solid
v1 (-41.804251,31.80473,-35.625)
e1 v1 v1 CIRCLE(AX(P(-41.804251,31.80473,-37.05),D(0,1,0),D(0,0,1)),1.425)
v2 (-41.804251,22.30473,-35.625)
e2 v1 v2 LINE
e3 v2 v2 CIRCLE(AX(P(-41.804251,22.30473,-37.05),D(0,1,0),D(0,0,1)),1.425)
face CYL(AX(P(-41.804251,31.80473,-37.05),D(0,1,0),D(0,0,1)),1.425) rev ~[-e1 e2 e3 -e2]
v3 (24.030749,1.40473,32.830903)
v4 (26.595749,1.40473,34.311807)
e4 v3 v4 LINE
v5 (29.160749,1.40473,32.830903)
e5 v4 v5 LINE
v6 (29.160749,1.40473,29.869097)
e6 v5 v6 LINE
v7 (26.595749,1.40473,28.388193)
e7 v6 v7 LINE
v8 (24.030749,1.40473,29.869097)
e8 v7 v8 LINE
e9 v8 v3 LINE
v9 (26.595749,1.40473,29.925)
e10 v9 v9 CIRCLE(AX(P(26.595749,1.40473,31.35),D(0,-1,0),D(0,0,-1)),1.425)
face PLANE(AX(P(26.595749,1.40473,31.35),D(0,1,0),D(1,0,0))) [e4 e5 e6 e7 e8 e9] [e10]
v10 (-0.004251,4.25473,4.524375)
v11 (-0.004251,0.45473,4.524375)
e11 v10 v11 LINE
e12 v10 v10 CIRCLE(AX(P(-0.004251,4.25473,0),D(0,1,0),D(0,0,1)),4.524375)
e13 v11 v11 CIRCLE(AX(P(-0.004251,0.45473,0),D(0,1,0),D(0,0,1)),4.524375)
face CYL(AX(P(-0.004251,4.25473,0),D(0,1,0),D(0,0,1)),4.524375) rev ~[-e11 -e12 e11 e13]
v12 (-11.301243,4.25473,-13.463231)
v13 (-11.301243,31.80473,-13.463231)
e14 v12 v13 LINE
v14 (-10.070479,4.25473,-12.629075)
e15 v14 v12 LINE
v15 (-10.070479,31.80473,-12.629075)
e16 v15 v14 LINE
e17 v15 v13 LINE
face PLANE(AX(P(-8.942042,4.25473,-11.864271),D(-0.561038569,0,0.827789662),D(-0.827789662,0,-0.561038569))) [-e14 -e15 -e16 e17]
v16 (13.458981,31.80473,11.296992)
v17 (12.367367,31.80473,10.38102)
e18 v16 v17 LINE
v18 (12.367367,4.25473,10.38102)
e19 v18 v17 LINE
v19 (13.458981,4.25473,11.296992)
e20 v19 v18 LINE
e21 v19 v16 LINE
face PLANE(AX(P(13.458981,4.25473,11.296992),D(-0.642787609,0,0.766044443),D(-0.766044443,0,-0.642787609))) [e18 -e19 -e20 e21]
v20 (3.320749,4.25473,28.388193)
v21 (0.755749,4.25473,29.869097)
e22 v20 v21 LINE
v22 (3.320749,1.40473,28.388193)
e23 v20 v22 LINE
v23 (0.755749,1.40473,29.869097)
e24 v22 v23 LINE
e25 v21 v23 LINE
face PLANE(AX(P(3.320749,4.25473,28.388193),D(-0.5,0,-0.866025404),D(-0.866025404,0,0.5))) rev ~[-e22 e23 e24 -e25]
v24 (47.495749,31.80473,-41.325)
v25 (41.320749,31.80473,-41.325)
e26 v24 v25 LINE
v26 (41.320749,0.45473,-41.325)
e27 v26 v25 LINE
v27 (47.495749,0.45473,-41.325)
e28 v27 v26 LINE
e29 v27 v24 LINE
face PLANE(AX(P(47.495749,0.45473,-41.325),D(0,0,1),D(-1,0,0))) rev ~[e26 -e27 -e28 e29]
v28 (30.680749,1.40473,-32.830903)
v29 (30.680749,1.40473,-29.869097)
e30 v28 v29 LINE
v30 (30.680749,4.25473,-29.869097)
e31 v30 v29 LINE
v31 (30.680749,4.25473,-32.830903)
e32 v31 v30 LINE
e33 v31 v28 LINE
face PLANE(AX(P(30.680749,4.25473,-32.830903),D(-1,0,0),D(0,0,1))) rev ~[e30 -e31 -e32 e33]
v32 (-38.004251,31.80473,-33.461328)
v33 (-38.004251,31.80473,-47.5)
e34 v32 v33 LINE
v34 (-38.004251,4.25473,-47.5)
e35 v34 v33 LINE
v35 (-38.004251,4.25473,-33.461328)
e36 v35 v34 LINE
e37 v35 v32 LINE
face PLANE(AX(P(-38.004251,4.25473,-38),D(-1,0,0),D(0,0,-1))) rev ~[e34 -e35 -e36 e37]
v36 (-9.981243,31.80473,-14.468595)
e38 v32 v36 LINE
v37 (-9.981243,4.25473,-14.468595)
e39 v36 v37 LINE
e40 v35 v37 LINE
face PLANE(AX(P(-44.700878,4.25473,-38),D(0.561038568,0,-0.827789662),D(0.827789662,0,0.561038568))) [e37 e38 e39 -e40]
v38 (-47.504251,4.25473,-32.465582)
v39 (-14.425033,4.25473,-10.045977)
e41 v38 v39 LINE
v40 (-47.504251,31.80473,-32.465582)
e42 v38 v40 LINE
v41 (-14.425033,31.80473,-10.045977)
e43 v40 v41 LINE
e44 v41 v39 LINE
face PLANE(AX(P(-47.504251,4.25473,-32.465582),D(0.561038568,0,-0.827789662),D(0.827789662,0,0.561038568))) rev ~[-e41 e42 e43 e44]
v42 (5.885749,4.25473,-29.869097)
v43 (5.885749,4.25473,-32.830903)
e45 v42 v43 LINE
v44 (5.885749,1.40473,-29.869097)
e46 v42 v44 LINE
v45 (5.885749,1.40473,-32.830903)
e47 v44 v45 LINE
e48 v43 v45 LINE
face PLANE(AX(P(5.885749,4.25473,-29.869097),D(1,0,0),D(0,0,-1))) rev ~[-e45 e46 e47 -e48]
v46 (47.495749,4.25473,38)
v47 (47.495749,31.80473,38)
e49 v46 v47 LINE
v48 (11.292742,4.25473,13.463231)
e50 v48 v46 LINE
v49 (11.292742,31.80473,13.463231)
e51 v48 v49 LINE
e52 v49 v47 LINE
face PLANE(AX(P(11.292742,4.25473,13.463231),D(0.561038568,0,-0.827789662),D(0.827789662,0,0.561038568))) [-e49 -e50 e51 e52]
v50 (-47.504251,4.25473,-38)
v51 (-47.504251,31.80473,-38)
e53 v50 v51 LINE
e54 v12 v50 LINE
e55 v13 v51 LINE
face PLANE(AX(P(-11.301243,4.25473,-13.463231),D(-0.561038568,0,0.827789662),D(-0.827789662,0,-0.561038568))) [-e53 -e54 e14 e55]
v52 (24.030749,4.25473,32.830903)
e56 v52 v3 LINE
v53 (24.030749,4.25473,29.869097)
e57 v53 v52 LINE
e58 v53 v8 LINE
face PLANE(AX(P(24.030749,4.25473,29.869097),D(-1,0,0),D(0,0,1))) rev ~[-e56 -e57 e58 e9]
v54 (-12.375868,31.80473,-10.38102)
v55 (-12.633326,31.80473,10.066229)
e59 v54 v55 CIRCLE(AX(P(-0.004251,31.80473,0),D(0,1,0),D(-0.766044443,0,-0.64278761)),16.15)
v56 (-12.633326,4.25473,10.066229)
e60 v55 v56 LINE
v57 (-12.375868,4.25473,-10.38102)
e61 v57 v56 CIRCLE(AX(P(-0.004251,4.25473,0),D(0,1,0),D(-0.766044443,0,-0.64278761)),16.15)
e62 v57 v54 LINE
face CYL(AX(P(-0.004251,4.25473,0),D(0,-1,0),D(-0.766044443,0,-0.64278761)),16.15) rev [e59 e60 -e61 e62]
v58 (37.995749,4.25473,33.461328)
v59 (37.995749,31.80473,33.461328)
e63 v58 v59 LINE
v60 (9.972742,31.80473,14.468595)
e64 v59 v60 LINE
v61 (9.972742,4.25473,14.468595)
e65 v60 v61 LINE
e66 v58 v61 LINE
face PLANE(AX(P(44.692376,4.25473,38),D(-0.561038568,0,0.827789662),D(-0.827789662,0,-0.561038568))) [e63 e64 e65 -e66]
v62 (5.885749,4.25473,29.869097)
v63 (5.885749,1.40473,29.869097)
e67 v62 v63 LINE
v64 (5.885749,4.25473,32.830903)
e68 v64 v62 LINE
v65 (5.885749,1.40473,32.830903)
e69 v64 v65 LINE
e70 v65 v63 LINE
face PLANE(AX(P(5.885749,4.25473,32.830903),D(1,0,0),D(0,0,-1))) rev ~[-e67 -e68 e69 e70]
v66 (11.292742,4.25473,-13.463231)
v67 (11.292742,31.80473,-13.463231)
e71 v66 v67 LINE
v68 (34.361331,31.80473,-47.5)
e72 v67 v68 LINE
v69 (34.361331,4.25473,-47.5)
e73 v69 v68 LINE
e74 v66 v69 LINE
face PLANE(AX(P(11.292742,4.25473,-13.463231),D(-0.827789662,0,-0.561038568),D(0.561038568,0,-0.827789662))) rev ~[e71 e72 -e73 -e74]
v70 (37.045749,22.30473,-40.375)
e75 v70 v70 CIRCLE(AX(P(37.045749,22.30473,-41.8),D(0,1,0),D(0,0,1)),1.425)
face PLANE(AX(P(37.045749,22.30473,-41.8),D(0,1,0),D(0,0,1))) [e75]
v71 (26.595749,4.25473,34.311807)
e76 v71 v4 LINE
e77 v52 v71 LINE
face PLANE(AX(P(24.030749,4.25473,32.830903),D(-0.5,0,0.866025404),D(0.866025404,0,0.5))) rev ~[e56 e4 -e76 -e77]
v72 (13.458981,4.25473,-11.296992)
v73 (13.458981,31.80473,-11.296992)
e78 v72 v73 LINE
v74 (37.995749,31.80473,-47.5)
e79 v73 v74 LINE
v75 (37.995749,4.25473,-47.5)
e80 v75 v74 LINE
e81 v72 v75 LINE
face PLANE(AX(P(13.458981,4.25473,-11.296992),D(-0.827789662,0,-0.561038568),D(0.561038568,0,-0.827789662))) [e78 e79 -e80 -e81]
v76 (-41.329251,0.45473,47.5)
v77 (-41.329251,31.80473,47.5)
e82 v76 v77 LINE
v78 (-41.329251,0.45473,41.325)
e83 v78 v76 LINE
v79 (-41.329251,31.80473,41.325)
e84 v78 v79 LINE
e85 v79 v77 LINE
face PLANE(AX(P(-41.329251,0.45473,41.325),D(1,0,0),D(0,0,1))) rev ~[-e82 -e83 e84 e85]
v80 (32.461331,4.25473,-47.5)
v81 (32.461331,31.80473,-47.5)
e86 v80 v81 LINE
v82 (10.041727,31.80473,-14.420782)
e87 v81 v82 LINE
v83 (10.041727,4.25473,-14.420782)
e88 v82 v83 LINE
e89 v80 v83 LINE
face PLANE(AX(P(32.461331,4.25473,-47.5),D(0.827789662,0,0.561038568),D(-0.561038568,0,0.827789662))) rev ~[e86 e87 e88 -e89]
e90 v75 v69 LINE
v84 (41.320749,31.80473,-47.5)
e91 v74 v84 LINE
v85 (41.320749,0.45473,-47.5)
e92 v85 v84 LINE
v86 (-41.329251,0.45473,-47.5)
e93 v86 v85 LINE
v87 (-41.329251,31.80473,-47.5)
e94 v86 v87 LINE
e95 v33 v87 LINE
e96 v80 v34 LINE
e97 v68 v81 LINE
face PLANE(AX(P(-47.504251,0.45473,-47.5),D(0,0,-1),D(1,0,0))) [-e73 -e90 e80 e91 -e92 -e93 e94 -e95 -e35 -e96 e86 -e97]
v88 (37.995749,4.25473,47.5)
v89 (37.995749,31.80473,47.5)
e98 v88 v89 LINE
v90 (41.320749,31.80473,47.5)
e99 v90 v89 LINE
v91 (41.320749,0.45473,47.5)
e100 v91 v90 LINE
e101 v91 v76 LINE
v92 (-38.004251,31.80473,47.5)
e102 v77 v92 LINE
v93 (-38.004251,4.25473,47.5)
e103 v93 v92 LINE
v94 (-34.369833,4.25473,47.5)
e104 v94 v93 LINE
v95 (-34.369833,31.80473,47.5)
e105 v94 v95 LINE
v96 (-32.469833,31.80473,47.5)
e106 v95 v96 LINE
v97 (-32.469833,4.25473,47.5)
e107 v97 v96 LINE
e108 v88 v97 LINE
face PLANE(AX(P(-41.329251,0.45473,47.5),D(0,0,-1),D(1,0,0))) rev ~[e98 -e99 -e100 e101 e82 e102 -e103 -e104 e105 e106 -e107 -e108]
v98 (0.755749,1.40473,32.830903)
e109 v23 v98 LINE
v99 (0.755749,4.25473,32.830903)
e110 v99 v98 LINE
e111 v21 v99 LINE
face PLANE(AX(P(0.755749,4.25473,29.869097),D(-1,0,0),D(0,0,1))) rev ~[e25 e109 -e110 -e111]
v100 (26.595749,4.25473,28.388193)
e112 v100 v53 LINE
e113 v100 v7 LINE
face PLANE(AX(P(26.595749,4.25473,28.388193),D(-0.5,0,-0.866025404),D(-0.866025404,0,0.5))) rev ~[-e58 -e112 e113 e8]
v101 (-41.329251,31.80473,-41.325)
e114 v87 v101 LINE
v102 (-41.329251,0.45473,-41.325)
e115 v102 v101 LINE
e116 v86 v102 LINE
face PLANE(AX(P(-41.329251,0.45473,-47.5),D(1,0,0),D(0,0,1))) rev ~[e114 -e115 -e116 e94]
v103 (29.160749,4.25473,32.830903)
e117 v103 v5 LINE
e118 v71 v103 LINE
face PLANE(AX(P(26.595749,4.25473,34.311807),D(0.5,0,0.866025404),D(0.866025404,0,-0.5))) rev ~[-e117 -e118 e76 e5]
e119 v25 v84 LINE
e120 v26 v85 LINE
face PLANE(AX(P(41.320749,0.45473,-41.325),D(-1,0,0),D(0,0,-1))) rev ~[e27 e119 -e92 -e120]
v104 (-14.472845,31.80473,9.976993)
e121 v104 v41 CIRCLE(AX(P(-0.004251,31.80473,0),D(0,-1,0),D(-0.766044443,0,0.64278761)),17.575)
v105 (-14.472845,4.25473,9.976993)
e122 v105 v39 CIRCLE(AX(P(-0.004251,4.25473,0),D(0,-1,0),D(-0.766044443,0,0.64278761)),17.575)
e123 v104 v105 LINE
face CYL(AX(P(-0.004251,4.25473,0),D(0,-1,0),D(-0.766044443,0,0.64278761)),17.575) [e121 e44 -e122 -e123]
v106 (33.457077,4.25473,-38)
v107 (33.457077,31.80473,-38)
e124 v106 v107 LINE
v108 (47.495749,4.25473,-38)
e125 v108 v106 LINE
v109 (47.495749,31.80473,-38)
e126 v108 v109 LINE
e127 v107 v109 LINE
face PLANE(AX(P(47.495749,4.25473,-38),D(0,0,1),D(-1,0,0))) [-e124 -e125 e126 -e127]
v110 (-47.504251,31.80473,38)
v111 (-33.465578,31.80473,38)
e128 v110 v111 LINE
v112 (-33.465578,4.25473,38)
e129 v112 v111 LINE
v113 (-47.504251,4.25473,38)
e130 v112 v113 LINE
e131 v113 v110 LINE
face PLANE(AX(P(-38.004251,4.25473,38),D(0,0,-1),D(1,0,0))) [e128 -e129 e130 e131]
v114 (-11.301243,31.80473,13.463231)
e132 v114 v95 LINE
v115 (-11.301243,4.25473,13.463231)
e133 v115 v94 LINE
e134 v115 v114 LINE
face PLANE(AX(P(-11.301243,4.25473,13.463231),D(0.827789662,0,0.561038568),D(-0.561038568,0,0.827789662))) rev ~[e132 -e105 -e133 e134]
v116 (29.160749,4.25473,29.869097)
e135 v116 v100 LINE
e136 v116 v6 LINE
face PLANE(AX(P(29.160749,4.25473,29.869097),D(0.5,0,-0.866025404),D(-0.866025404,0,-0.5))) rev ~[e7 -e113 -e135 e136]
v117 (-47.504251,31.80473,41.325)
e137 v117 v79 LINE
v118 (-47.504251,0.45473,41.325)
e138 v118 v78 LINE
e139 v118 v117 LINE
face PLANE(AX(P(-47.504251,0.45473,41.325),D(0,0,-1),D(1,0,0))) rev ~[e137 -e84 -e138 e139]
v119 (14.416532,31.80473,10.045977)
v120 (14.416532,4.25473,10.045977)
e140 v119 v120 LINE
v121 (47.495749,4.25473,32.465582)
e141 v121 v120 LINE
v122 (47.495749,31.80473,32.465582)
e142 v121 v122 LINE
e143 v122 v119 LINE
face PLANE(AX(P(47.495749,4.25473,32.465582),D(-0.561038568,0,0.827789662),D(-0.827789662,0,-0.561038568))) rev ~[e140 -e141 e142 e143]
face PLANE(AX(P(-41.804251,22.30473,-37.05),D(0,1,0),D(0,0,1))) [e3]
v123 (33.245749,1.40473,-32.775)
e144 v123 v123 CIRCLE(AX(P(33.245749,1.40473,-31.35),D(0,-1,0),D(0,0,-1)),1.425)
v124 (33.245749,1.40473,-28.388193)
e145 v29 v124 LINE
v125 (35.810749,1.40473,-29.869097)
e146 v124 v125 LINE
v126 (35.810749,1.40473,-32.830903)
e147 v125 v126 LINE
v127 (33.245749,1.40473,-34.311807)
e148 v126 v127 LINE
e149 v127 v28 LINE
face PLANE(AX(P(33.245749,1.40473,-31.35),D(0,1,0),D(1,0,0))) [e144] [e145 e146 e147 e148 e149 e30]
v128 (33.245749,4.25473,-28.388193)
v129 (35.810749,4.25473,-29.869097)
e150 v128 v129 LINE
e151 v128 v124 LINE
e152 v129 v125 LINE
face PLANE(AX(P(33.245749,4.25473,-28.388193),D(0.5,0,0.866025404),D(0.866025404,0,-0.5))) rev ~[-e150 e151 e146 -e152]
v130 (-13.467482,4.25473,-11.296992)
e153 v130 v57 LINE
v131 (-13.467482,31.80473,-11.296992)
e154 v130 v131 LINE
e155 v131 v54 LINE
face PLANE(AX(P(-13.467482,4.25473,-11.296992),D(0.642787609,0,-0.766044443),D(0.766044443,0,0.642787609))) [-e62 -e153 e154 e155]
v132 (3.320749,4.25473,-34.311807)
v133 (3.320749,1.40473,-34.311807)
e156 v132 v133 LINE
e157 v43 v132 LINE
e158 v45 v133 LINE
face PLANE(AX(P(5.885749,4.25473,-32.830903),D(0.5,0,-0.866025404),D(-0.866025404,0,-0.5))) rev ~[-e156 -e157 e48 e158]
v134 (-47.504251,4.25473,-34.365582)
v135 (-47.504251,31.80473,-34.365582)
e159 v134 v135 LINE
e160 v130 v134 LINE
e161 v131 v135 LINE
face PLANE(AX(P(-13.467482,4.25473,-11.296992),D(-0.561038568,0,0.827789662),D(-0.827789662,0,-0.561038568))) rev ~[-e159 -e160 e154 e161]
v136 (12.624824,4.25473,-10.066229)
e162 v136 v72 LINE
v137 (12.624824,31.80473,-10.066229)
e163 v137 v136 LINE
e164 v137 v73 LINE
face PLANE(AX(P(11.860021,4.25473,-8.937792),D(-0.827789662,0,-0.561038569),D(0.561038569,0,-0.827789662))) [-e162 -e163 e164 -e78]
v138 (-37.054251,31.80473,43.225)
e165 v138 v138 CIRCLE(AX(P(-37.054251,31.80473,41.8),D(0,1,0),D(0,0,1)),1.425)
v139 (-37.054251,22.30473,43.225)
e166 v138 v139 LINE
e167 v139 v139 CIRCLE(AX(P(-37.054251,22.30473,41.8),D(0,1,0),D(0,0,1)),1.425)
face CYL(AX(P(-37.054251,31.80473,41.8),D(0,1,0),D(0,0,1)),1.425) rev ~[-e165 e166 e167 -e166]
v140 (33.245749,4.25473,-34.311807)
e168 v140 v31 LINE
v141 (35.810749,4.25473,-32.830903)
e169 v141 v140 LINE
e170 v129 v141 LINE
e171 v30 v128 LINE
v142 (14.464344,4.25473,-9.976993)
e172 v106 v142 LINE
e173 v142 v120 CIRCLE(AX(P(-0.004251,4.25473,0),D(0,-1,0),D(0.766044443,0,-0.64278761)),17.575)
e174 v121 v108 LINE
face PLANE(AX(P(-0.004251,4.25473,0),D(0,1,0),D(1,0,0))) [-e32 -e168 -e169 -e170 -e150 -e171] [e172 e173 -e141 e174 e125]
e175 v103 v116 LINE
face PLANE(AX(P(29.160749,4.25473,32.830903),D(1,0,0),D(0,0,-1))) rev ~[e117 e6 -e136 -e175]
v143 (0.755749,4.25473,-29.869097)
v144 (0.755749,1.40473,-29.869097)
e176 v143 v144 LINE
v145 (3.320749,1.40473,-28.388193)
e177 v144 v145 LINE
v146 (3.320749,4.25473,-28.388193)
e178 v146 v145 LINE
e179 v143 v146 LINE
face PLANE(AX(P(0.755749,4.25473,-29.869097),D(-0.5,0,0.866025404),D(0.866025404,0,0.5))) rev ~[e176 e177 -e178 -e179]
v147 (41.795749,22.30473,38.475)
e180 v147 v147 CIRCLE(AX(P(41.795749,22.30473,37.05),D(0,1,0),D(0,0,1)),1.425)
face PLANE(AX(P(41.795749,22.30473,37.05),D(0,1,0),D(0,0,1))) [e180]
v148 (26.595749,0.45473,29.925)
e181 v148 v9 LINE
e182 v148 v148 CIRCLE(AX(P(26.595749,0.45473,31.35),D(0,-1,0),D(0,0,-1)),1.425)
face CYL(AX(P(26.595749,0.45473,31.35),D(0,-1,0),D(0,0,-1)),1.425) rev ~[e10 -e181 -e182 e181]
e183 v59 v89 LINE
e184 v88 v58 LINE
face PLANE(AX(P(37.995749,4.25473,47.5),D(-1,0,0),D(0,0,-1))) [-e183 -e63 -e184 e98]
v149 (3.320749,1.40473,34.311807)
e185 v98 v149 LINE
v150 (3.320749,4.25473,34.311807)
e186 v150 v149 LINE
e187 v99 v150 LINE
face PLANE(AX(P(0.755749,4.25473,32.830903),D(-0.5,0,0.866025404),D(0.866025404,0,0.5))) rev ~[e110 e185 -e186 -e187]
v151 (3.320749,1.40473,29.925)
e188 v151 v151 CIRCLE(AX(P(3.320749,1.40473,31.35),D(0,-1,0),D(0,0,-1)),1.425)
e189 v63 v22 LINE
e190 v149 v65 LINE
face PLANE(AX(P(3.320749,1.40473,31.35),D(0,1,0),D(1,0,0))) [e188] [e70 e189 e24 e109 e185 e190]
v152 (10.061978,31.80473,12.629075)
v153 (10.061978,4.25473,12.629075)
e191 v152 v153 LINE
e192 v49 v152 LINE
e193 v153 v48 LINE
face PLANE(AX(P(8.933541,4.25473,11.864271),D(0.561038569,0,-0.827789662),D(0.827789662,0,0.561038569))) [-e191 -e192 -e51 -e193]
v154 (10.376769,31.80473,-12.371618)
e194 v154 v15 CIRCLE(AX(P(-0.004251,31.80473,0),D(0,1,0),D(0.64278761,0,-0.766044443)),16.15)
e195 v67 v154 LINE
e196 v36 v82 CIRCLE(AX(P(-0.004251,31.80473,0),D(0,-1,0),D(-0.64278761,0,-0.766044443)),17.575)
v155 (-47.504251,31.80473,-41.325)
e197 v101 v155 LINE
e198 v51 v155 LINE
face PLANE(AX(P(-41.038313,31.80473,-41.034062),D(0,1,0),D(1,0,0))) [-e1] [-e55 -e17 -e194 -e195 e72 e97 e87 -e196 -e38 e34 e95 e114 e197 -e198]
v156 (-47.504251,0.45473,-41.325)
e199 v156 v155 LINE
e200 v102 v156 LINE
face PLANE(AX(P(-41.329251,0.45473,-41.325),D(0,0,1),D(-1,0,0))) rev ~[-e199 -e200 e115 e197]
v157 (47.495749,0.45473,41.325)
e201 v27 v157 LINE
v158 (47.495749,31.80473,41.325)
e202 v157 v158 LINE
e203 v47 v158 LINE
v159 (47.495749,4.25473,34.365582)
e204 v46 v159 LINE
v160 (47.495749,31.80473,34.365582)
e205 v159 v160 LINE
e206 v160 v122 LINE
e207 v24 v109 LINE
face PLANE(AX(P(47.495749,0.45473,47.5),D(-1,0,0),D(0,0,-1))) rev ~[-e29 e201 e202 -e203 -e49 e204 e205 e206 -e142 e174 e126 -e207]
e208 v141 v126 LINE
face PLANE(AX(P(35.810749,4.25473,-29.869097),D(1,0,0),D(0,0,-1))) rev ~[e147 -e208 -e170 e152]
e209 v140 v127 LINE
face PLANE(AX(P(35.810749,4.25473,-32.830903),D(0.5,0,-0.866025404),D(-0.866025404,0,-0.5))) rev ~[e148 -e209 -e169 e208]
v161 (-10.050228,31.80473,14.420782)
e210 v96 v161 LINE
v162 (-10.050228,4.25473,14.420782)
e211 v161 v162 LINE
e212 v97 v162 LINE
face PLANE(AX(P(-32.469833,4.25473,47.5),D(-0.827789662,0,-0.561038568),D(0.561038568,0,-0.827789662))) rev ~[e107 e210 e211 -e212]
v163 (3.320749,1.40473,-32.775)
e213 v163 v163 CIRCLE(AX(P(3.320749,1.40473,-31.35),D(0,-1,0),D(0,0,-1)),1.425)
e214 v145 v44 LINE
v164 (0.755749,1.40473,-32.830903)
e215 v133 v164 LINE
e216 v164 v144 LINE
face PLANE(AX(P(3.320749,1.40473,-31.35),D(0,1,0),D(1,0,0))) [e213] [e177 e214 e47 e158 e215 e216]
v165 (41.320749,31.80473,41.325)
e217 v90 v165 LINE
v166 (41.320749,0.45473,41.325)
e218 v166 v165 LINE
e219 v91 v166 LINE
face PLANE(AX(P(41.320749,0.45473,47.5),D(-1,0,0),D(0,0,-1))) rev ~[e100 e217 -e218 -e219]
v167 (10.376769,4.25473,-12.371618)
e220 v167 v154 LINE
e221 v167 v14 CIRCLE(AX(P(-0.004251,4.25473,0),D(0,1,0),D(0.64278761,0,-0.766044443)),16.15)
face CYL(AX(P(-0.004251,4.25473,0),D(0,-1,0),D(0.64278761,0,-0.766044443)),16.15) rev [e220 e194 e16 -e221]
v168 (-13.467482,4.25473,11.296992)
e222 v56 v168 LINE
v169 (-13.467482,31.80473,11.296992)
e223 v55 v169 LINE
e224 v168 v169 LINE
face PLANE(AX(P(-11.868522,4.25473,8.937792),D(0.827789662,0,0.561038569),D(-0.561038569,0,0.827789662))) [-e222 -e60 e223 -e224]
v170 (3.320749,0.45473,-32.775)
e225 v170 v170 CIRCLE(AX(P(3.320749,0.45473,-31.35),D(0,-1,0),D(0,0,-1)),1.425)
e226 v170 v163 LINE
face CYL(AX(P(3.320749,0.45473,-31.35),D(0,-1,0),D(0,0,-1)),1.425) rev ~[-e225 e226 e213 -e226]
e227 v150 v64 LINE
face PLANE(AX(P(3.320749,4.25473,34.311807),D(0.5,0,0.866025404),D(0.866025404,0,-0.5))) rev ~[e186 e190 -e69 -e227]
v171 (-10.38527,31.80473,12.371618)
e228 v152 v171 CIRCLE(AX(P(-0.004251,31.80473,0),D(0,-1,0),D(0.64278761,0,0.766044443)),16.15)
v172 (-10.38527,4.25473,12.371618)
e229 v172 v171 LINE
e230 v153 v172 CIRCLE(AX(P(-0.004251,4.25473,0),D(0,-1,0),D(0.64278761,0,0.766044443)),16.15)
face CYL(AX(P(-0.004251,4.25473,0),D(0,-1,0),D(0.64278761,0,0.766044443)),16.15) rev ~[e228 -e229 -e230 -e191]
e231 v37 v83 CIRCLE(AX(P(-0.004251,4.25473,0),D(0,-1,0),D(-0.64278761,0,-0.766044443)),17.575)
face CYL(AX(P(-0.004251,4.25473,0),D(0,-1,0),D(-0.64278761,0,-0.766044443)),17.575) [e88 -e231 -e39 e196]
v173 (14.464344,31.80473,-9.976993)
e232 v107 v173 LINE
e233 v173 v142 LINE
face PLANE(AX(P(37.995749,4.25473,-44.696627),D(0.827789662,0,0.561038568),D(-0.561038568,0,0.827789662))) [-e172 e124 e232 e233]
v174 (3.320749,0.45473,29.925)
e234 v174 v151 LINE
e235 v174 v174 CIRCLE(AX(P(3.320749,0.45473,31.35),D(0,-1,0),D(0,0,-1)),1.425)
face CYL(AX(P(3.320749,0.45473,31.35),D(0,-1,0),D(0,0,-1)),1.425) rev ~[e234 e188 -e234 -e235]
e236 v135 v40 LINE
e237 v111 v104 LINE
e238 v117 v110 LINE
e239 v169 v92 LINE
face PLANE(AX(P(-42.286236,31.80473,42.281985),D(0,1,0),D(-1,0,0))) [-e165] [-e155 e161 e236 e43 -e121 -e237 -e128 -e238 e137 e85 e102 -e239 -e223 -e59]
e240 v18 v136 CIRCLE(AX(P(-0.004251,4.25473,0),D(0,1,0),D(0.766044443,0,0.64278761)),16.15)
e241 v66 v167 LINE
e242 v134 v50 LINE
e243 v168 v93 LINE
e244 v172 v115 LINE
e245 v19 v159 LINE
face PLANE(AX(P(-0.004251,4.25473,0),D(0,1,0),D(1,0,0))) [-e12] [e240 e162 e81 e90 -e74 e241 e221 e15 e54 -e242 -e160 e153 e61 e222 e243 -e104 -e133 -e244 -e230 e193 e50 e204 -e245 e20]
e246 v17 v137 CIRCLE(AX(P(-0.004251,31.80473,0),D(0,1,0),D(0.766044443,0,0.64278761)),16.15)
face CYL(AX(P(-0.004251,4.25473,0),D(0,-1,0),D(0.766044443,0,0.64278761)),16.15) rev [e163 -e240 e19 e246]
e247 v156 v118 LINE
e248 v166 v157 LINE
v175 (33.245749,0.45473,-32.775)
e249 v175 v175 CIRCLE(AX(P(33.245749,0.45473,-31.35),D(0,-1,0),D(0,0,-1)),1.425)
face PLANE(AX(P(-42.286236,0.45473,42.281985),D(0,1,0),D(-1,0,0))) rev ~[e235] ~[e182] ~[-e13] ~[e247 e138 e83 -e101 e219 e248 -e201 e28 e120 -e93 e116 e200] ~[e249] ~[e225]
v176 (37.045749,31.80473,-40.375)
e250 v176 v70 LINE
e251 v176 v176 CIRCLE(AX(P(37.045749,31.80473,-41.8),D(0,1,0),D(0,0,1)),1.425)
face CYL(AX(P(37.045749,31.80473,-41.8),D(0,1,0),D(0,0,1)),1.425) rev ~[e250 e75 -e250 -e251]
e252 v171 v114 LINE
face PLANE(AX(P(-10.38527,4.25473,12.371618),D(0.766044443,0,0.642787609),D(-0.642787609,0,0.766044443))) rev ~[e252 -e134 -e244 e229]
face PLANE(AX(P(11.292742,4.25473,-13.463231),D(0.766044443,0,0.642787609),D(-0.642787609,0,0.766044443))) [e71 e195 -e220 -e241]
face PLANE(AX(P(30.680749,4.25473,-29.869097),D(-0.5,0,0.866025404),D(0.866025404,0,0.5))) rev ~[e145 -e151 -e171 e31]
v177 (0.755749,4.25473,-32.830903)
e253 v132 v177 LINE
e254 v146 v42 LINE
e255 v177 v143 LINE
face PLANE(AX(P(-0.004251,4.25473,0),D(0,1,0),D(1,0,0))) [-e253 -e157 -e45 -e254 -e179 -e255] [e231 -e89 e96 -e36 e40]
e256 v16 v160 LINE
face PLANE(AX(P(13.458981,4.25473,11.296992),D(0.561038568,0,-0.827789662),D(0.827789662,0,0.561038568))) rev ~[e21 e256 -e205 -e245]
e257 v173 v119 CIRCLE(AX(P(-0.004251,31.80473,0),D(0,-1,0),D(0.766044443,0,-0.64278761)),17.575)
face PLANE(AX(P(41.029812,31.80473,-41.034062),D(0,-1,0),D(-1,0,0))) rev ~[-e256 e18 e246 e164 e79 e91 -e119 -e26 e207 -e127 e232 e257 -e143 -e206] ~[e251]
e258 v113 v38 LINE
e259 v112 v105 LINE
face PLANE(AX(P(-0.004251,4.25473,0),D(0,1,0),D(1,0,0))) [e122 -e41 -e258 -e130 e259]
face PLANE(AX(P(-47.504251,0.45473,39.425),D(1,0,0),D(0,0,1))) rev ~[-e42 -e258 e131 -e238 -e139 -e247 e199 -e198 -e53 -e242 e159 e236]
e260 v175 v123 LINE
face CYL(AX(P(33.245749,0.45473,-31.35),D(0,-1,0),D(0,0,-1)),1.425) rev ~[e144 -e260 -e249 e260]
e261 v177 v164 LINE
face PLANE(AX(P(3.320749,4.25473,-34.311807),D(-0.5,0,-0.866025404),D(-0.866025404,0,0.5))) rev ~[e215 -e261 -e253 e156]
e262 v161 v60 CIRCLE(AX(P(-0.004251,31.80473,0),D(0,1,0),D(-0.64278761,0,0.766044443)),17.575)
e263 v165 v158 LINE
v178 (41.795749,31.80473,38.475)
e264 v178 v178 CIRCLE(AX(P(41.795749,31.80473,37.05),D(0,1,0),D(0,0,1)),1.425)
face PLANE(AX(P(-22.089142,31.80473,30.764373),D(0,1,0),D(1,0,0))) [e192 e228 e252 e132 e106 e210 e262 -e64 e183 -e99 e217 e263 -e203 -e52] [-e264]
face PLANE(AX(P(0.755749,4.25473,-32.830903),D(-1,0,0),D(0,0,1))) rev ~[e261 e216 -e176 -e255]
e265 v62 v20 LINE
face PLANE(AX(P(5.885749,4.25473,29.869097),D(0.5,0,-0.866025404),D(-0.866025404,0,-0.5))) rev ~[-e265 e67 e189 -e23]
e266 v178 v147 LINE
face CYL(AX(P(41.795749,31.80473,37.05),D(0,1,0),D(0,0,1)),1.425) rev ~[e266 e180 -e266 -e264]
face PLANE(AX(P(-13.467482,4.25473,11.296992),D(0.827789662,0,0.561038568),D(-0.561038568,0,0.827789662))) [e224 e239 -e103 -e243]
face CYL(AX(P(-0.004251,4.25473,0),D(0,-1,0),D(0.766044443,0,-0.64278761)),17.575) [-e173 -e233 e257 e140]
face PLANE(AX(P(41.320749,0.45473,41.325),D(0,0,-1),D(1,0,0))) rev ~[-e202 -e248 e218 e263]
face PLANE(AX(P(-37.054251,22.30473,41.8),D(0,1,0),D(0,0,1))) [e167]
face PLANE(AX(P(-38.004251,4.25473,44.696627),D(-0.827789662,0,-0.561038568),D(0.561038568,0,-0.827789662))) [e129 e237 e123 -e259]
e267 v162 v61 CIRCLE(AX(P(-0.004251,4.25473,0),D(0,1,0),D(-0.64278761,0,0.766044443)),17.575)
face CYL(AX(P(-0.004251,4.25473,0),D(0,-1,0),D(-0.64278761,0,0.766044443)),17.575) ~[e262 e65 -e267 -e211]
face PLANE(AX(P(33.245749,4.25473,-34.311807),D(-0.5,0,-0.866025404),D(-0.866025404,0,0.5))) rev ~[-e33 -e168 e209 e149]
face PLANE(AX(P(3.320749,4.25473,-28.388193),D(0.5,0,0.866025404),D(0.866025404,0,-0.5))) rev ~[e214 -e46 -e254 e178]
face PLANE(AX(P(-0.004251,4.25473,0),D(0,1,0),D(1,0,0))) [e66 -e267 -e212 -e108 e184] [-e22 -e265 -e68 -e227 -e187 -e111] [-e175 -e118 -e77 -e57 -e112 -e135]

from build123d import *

# Parameters (mm, degrees)
SKETCH1_W           = 100
SKETCH1_H           = 100
BOSS_EXTRUDE1_DEPTH = 4
SKETCH2_R           = 4.7625
CUT_EXTRUDE1_DEPTH  = 71.823724839
SKETCH3_W           = 8.5
SKETCH3_H           = 8.5
CUT_EXTRUDE2_DEPTH  = 71.823724839
BOSS_EXTRUDE3_DEPTH = 29
BOSS_EXTRUDE4_DEPTH = 29
CUT_EXTRUDE4_DEPTH  = 77.426435217
BOSS_EXTRUDE5_DEPTH = 29
BOSS_EXTRUDE6_DEPTH = 29
SKETCH12_R          = 1.5
CUT_EXTRUDE5_DEPTH  = 79.0320447
CUT_EXTRUDE6_DEPTH  = 3
SKETCH15_R          = 1.5
CUT_EXTRUDE7_DEPTH  = 10
BOSS_EXTRUDE7_DEPTH = 33
SCALE1_SCALE        = 0.95


with BuildPart() as part:
    # Sketch1 → Boss-Extrude1 (new body)
    with BuildSketch(Plane(origin=(0, 0, 0), x_dir=(1, 0, 0), z_dir=(0, 1, 0))):
        Rectangle(SKETCH1_W, SKETCH1_H)
    extrude(amount=BOSS_EXTRUDE1_DEPTH)

    # Sketch2 → Cut-Extrude1 (cut, through all)
    with BuildSketch(Plane(origin=(0, 4, 0), x_dir=(1, 0, 0), z_dir=(0, 1, 0))):
        with Locations(Location((0, 0, 0), (0, 0, 270))):
            Circle(SKETCH2_R)
    extrude(amount=-CUT_EXTRUDE1_DEPTH, mode=Mode.SUBTRACT)

    # Sketch3 → Cut-Extrude2 (cut, through all)
    with BuildSketch(Plane(origin=(0, 4, 0), x_dir=(1, 0, 0), z_dir=(0, 1, 0))):
        with Locations((-45.75, 45.75)):
            Rectangle(SKETCH3_W, SKETCH3_H)
        with Locations((45.75, 45.75)):
            Rectangle(SKETCH3_W, SKETCH3_H)
        with Locations((45.75, -45.75)):
            Rectangle(SKETCH3_W, SKETCH3_H)
        with Locations((-45.75, -45.75)):
            Rectangle(SKETCH3_W, SKETCH3_H)
    extrude(amount=-CUT_EXTRUDE2_DEPTH, mode=Mode.SUBTRACT)

    # Sketch4 → Boss-Extrude3 (add)
    with BuildSketch(Plane(origin=(0, 4, 0), x_dir=(1, 0, 0), z_dir=(0, 1, 0))):
        with BuildLine():
            Line((-10.927389365, -13.022755533), (-11.891570779, -14.171822198))
            ThreePointArc((-11.891570779, -14.171822198), (0, -18.5), (11.891570779, -14.171822198))
            Line((11.891570779, -14.171822198), (10.927389365, -13.022755533))
            ThreePointArc((10.927389365, -13.022755533), (0, -17), (-10.927389365, -13.022755533))
        make_face()
        with BuildLine():
            Line((-13.022755533, -10.927389365), (-14.171822198, -11.891570779))
            ThreePointArc((-14.171822198, -11.891570779), (-18.5, 0), (-14.171822198, 11.891570779))
            Line((-14.171822198, 11.891570779), (-13.022755533, 10.927389365))
            ThreePointArc((-13.022755533, 10.927389365), (-17, 0), (-13.022755533, -10.927389365))
        make_face()
        with BuildLine():
            Line((-10.927389365, 13.022755533), (-11.891570779, 14.171822198))
            ThreePointArc((-11.891570779, 14.171822198), (0, 18.5), (11.891570779, 14.171822198))
            Line((11.891570779, 14.171822198), (10.927389365, 13.022755533))
            ThreePointArc((10.927389365, 13.022755533), (0, 17), (-10.927389365, 13.022755533))
        make_face()
        with BuildLine():
            Line((13.022755533, 10.927389365), (14.171822198, 11.891570779))
            ThreePointArc((14.171822198, 11.891570779), (18.5, 0), (14.171822198, -11.891570779))
            Line((14.171822198, -11.891570779), (13.022755533, -10.927389365))
            ThreePointArc((13.022755533, -10.927389365), (17, 0), (13.022755533, 10.927389365))
        make_face()
    extrude(amount=BOSS_EXTRUDE3_DEPTH)

    # Sketch7 → Boss-Extrude4 (add)
    with BuildSketch(Plane(origin=(0, 4, 0), x_dir=(1, 0, 0), z_dir=(0, 1, 0))):
        Polygon((-41.5, -41.5), (-41.5, -50), (-40, -50), (-40, -40), (-50, -40), (-50, -41.5), align=None)
        Polygon((40, -50), (40, -40), (50, -40), (50, -41.5), (41.5, -41.5), (41.5, -50), align=None)
        Polygon((50, 41.5), (50, 40), (40, 40), (40, 50), (41.5, 50), (41.5, 41.5), align=None)
        Polygon((-50, 41.5), (-50, 40), (-40, 40), (-40, 50), (-41.5, 50), (-41.5, 41.5), align=None)
    extrude(amount=BOSS_EXTRUDE4_DEPTH)

    # Sketch8 → Cut-Extrude4 (cut, through all)
    with BuildSketch(Plane(origin=(0, 4, 0), x_dir=(1, 0, 0), z_dir=(0, 1, 0))):
        Polygon((-14.171822198, -11.891570779), (-40, -50), (-36.17429682, -50), (-11.891570779, -14.171822198), (-9.867198001, -11.184942236), (-12.488706492, -9.408201793), align=None)
        Polygon((-11.891570779, 14.171822198), (-50, 40), (-50, 36.17429682), (-14.171822198, 11.891570779), (-11.184942236, 9.867198001), (-9.408201793, 12.488706492), align=None)
        Polygon((14.171822198, 11.891570779), (40, 50), (36.17429682, 50), (11.891570779, 14.171822198), (9.867198001, 11.184942236), (12.488706492, 9.408201793), align=None)
        Polygon((11.891570779, -14.171822198), (50, -40), (50, -36.17429682), (14.171822198, -11.891570779), (11.184942236, -9.867198001), (9.408201793, -12.488706492), align=None)
    extrude(amount=CUT_EXTRUDE4_DEPTH, mode=Mode.SUBTRACT)

    # Sketch9 → Boss-Extrude5 (add)
    with BuildSketch(Plane(origin=(0, 4, 0), x_dir=(1, 0, 0), z_dir=(0, 1, 0))):
        Polygon((-11.891570779, -14.171822198), (-36.17429682, -50), (-34.17429682, -50), (-10.52109933, -15.100666052), align=None)
        Polygon((-14.171822198, -11.891570779), (-40, -50), (-40, -47.049081084), (-14.981255079, -10.134937263), (-13.610783629, -11.063781117), align=None)
        Polygon((-50, 34.17429682), (-15.100666052, 10.52109933), (-14.171822198, 11.891570779), (-50, 36.17429682), align=None)
        Polygon((-11.891570779, 14.171822198), (-50, 40), (-47.049081084, 40), (-10.134937263, 14.981255079), (-11.063781117, 13.610783629), align=None)
        Polygon((34.17429682, 50), (10.52109933, 15.100666052), (11.891570779, 14.171822198), (36.17429682, 50), align=None)
        Polygon((14.171822198, 11.891570779), (40, 50), (40, 47.049081084), (14.981255079, 10.134937263), (13.610783629, 11.063781117), align=None)
        Polygon((50, -34.17429682), (15.100666052, -10.52109933), (14.171822198, -11.891570779), (50, -36.17429682), align=None)
        Polygon((11.891570779, -14.171822198), (50, -40), (47.049081084, -40), (10.134937263, -14.981255079), (11.063781117, -13.610783629), align=None)
    extrude(amount=BOSS_EXTRUDE5_DEPTH)

    # Sketch11 → Boss-Extrude6 (add)
    with BuildSketch(Plane(origin=(0, 4, 0), x_dir=(1, 0, 0), z_dir=(0, 1, 0))):
        Polygon((-40, -40), (-35.222450169, -40), (-40, -47.049081084), align=None)
        Polygon((-40, 40), (-40, 35.222450169), (-47.049081084, 40), align=None)
        Polygon((40, 40), (35.222450169, 40), (40, 47.049081084), align=None)
        Polygon((40, -40), (40, -35.222450169), (47.049081084, -40), align=None)
    extrude(amount=BOSS_EXTRUDE6_DEPTH)

    # Sketch12 → Cut-Extrude5 (cut, through all)
    with BuildSketch(Plane(origin=(0, 0, 0), x_dir=(-1, 0, 0), z_dir=(0, -1, 0))):
        with Locations(Location((-3.5, 33, 0), (0, 0, 90))):
            Circle(SKETCH12_R)
        with Locations(Location((-3.5, -33, 0), (0, 0, 90))):
            Circle(SKETCH12_R)
        with Locations(Location((-35, 33, 0), (0, 0, 90))):
            Circle(SKETCH12_R)
        with Locations(Location((-28, -33, 0), (0, 0, 90))):
            Circle(SKETCH12_R)
    extrude(amount=-CUT_EXTRUDE5_DEPTH, mode=Mode.SUBTRACT)

    # Sketch14 → Cut-Extrude6 (cut)
    with BuildSketch(Plane(origin=(0, 4, 0), x_dir=(1, 0, 0), z_dir=(0, 1, 0))):
        Polygon((28, -29.882308546), (25.3, -31.441154273), (25.3, -34.558845727), (28, -36.117691454), (30.7, -34.558845727), (30.7, -31.441154273), align=None)
        Polygon((3.5, -29.882308546), (0.8, -31.441154273), (0.8, -34.558845727), (3.5, -36.117691454), (6.2, -34.558845727), (6.2, -31.441154273), align=None)
        Polygon((3.5, 36.117691454), (0.8, 34.558845727), (0.8, 31.441154273), (3.5, 29.882308546), (6.2, 31.441154273), (6.2, 34.558845727), align=None)
        Polygon((35, 36.117691454), (32.3, 34.558845727), (32.3, 31.441154273), (35, 29.882308546), (37.7, 31.441154273), (37.7, 34.558845727), align=None)
    extrude(amount=-CUT_EXTRUDE6_DEPTH, mode=Mode.SUBTRACT)

    # Sketch15 → Cut-Extrude7 (cut)
    with BuildSketch(Plane(origin=(0, 33, 0), x_dir=(1, 0, 0), z_dir=(0, 1, 0))):
        with Locations(Location((44, -39, 0), (0, 0, 270))):
            Circle(SKETCH15_R)
        with Locations(Location((-39, -44, 0), (0, 0, 270))):
            Circle(SKETCH15_R)
        with Locations(Location((-44, 39, 0), (0, 0, 270))):
            Circle(SKETCH15_R)
        with Locations(Location((39, 44, 0), (0, 0, 270))):
            Circle(SKETCH15_R)
    extrude(amount=-CUT_EXTRUDE7_DEPTH, mode=Mode.SUBTRACT)

    # Sketch16 → Boss-Extrude7 (add)
    with BuildSketch(Plane.XZ):
        Polygon((-50, 41.5), (-50, 43.5), (-43.5, 43.5), (-43.5, 50), (-41.5, 50), (-41.5, 41.5), align=None)
        Polygon((50, 41.5), (41.5, 41.5), (41.5, 50), (43.5, 50), (43.5, 43.5), (50, 43.5), align=None)
        Polygon((50, -41.5), (50, -43.5), (43.5, -43.5), (43.5, -50), (41.5, -50), (41.5, -41.5), align=None)
        Polygon((-50, -41.5), (-41.5, -41.5), (-41.5, -50), (-43.5, -50), (-43.5, -43.5), (-50, -43.5), align=None)
    extrude(amount=-BOSS_EXTRUDE7_DEPTH)


with BuildPart() as part_1:
    # Scale1: scaled about (-0.08501153, 9.094594804, 0)
    add(part.part.scale(SCALE1_SCALE).moved(Location((-0.004250577, 0.45472974, 0))))


solid = part_1.part
